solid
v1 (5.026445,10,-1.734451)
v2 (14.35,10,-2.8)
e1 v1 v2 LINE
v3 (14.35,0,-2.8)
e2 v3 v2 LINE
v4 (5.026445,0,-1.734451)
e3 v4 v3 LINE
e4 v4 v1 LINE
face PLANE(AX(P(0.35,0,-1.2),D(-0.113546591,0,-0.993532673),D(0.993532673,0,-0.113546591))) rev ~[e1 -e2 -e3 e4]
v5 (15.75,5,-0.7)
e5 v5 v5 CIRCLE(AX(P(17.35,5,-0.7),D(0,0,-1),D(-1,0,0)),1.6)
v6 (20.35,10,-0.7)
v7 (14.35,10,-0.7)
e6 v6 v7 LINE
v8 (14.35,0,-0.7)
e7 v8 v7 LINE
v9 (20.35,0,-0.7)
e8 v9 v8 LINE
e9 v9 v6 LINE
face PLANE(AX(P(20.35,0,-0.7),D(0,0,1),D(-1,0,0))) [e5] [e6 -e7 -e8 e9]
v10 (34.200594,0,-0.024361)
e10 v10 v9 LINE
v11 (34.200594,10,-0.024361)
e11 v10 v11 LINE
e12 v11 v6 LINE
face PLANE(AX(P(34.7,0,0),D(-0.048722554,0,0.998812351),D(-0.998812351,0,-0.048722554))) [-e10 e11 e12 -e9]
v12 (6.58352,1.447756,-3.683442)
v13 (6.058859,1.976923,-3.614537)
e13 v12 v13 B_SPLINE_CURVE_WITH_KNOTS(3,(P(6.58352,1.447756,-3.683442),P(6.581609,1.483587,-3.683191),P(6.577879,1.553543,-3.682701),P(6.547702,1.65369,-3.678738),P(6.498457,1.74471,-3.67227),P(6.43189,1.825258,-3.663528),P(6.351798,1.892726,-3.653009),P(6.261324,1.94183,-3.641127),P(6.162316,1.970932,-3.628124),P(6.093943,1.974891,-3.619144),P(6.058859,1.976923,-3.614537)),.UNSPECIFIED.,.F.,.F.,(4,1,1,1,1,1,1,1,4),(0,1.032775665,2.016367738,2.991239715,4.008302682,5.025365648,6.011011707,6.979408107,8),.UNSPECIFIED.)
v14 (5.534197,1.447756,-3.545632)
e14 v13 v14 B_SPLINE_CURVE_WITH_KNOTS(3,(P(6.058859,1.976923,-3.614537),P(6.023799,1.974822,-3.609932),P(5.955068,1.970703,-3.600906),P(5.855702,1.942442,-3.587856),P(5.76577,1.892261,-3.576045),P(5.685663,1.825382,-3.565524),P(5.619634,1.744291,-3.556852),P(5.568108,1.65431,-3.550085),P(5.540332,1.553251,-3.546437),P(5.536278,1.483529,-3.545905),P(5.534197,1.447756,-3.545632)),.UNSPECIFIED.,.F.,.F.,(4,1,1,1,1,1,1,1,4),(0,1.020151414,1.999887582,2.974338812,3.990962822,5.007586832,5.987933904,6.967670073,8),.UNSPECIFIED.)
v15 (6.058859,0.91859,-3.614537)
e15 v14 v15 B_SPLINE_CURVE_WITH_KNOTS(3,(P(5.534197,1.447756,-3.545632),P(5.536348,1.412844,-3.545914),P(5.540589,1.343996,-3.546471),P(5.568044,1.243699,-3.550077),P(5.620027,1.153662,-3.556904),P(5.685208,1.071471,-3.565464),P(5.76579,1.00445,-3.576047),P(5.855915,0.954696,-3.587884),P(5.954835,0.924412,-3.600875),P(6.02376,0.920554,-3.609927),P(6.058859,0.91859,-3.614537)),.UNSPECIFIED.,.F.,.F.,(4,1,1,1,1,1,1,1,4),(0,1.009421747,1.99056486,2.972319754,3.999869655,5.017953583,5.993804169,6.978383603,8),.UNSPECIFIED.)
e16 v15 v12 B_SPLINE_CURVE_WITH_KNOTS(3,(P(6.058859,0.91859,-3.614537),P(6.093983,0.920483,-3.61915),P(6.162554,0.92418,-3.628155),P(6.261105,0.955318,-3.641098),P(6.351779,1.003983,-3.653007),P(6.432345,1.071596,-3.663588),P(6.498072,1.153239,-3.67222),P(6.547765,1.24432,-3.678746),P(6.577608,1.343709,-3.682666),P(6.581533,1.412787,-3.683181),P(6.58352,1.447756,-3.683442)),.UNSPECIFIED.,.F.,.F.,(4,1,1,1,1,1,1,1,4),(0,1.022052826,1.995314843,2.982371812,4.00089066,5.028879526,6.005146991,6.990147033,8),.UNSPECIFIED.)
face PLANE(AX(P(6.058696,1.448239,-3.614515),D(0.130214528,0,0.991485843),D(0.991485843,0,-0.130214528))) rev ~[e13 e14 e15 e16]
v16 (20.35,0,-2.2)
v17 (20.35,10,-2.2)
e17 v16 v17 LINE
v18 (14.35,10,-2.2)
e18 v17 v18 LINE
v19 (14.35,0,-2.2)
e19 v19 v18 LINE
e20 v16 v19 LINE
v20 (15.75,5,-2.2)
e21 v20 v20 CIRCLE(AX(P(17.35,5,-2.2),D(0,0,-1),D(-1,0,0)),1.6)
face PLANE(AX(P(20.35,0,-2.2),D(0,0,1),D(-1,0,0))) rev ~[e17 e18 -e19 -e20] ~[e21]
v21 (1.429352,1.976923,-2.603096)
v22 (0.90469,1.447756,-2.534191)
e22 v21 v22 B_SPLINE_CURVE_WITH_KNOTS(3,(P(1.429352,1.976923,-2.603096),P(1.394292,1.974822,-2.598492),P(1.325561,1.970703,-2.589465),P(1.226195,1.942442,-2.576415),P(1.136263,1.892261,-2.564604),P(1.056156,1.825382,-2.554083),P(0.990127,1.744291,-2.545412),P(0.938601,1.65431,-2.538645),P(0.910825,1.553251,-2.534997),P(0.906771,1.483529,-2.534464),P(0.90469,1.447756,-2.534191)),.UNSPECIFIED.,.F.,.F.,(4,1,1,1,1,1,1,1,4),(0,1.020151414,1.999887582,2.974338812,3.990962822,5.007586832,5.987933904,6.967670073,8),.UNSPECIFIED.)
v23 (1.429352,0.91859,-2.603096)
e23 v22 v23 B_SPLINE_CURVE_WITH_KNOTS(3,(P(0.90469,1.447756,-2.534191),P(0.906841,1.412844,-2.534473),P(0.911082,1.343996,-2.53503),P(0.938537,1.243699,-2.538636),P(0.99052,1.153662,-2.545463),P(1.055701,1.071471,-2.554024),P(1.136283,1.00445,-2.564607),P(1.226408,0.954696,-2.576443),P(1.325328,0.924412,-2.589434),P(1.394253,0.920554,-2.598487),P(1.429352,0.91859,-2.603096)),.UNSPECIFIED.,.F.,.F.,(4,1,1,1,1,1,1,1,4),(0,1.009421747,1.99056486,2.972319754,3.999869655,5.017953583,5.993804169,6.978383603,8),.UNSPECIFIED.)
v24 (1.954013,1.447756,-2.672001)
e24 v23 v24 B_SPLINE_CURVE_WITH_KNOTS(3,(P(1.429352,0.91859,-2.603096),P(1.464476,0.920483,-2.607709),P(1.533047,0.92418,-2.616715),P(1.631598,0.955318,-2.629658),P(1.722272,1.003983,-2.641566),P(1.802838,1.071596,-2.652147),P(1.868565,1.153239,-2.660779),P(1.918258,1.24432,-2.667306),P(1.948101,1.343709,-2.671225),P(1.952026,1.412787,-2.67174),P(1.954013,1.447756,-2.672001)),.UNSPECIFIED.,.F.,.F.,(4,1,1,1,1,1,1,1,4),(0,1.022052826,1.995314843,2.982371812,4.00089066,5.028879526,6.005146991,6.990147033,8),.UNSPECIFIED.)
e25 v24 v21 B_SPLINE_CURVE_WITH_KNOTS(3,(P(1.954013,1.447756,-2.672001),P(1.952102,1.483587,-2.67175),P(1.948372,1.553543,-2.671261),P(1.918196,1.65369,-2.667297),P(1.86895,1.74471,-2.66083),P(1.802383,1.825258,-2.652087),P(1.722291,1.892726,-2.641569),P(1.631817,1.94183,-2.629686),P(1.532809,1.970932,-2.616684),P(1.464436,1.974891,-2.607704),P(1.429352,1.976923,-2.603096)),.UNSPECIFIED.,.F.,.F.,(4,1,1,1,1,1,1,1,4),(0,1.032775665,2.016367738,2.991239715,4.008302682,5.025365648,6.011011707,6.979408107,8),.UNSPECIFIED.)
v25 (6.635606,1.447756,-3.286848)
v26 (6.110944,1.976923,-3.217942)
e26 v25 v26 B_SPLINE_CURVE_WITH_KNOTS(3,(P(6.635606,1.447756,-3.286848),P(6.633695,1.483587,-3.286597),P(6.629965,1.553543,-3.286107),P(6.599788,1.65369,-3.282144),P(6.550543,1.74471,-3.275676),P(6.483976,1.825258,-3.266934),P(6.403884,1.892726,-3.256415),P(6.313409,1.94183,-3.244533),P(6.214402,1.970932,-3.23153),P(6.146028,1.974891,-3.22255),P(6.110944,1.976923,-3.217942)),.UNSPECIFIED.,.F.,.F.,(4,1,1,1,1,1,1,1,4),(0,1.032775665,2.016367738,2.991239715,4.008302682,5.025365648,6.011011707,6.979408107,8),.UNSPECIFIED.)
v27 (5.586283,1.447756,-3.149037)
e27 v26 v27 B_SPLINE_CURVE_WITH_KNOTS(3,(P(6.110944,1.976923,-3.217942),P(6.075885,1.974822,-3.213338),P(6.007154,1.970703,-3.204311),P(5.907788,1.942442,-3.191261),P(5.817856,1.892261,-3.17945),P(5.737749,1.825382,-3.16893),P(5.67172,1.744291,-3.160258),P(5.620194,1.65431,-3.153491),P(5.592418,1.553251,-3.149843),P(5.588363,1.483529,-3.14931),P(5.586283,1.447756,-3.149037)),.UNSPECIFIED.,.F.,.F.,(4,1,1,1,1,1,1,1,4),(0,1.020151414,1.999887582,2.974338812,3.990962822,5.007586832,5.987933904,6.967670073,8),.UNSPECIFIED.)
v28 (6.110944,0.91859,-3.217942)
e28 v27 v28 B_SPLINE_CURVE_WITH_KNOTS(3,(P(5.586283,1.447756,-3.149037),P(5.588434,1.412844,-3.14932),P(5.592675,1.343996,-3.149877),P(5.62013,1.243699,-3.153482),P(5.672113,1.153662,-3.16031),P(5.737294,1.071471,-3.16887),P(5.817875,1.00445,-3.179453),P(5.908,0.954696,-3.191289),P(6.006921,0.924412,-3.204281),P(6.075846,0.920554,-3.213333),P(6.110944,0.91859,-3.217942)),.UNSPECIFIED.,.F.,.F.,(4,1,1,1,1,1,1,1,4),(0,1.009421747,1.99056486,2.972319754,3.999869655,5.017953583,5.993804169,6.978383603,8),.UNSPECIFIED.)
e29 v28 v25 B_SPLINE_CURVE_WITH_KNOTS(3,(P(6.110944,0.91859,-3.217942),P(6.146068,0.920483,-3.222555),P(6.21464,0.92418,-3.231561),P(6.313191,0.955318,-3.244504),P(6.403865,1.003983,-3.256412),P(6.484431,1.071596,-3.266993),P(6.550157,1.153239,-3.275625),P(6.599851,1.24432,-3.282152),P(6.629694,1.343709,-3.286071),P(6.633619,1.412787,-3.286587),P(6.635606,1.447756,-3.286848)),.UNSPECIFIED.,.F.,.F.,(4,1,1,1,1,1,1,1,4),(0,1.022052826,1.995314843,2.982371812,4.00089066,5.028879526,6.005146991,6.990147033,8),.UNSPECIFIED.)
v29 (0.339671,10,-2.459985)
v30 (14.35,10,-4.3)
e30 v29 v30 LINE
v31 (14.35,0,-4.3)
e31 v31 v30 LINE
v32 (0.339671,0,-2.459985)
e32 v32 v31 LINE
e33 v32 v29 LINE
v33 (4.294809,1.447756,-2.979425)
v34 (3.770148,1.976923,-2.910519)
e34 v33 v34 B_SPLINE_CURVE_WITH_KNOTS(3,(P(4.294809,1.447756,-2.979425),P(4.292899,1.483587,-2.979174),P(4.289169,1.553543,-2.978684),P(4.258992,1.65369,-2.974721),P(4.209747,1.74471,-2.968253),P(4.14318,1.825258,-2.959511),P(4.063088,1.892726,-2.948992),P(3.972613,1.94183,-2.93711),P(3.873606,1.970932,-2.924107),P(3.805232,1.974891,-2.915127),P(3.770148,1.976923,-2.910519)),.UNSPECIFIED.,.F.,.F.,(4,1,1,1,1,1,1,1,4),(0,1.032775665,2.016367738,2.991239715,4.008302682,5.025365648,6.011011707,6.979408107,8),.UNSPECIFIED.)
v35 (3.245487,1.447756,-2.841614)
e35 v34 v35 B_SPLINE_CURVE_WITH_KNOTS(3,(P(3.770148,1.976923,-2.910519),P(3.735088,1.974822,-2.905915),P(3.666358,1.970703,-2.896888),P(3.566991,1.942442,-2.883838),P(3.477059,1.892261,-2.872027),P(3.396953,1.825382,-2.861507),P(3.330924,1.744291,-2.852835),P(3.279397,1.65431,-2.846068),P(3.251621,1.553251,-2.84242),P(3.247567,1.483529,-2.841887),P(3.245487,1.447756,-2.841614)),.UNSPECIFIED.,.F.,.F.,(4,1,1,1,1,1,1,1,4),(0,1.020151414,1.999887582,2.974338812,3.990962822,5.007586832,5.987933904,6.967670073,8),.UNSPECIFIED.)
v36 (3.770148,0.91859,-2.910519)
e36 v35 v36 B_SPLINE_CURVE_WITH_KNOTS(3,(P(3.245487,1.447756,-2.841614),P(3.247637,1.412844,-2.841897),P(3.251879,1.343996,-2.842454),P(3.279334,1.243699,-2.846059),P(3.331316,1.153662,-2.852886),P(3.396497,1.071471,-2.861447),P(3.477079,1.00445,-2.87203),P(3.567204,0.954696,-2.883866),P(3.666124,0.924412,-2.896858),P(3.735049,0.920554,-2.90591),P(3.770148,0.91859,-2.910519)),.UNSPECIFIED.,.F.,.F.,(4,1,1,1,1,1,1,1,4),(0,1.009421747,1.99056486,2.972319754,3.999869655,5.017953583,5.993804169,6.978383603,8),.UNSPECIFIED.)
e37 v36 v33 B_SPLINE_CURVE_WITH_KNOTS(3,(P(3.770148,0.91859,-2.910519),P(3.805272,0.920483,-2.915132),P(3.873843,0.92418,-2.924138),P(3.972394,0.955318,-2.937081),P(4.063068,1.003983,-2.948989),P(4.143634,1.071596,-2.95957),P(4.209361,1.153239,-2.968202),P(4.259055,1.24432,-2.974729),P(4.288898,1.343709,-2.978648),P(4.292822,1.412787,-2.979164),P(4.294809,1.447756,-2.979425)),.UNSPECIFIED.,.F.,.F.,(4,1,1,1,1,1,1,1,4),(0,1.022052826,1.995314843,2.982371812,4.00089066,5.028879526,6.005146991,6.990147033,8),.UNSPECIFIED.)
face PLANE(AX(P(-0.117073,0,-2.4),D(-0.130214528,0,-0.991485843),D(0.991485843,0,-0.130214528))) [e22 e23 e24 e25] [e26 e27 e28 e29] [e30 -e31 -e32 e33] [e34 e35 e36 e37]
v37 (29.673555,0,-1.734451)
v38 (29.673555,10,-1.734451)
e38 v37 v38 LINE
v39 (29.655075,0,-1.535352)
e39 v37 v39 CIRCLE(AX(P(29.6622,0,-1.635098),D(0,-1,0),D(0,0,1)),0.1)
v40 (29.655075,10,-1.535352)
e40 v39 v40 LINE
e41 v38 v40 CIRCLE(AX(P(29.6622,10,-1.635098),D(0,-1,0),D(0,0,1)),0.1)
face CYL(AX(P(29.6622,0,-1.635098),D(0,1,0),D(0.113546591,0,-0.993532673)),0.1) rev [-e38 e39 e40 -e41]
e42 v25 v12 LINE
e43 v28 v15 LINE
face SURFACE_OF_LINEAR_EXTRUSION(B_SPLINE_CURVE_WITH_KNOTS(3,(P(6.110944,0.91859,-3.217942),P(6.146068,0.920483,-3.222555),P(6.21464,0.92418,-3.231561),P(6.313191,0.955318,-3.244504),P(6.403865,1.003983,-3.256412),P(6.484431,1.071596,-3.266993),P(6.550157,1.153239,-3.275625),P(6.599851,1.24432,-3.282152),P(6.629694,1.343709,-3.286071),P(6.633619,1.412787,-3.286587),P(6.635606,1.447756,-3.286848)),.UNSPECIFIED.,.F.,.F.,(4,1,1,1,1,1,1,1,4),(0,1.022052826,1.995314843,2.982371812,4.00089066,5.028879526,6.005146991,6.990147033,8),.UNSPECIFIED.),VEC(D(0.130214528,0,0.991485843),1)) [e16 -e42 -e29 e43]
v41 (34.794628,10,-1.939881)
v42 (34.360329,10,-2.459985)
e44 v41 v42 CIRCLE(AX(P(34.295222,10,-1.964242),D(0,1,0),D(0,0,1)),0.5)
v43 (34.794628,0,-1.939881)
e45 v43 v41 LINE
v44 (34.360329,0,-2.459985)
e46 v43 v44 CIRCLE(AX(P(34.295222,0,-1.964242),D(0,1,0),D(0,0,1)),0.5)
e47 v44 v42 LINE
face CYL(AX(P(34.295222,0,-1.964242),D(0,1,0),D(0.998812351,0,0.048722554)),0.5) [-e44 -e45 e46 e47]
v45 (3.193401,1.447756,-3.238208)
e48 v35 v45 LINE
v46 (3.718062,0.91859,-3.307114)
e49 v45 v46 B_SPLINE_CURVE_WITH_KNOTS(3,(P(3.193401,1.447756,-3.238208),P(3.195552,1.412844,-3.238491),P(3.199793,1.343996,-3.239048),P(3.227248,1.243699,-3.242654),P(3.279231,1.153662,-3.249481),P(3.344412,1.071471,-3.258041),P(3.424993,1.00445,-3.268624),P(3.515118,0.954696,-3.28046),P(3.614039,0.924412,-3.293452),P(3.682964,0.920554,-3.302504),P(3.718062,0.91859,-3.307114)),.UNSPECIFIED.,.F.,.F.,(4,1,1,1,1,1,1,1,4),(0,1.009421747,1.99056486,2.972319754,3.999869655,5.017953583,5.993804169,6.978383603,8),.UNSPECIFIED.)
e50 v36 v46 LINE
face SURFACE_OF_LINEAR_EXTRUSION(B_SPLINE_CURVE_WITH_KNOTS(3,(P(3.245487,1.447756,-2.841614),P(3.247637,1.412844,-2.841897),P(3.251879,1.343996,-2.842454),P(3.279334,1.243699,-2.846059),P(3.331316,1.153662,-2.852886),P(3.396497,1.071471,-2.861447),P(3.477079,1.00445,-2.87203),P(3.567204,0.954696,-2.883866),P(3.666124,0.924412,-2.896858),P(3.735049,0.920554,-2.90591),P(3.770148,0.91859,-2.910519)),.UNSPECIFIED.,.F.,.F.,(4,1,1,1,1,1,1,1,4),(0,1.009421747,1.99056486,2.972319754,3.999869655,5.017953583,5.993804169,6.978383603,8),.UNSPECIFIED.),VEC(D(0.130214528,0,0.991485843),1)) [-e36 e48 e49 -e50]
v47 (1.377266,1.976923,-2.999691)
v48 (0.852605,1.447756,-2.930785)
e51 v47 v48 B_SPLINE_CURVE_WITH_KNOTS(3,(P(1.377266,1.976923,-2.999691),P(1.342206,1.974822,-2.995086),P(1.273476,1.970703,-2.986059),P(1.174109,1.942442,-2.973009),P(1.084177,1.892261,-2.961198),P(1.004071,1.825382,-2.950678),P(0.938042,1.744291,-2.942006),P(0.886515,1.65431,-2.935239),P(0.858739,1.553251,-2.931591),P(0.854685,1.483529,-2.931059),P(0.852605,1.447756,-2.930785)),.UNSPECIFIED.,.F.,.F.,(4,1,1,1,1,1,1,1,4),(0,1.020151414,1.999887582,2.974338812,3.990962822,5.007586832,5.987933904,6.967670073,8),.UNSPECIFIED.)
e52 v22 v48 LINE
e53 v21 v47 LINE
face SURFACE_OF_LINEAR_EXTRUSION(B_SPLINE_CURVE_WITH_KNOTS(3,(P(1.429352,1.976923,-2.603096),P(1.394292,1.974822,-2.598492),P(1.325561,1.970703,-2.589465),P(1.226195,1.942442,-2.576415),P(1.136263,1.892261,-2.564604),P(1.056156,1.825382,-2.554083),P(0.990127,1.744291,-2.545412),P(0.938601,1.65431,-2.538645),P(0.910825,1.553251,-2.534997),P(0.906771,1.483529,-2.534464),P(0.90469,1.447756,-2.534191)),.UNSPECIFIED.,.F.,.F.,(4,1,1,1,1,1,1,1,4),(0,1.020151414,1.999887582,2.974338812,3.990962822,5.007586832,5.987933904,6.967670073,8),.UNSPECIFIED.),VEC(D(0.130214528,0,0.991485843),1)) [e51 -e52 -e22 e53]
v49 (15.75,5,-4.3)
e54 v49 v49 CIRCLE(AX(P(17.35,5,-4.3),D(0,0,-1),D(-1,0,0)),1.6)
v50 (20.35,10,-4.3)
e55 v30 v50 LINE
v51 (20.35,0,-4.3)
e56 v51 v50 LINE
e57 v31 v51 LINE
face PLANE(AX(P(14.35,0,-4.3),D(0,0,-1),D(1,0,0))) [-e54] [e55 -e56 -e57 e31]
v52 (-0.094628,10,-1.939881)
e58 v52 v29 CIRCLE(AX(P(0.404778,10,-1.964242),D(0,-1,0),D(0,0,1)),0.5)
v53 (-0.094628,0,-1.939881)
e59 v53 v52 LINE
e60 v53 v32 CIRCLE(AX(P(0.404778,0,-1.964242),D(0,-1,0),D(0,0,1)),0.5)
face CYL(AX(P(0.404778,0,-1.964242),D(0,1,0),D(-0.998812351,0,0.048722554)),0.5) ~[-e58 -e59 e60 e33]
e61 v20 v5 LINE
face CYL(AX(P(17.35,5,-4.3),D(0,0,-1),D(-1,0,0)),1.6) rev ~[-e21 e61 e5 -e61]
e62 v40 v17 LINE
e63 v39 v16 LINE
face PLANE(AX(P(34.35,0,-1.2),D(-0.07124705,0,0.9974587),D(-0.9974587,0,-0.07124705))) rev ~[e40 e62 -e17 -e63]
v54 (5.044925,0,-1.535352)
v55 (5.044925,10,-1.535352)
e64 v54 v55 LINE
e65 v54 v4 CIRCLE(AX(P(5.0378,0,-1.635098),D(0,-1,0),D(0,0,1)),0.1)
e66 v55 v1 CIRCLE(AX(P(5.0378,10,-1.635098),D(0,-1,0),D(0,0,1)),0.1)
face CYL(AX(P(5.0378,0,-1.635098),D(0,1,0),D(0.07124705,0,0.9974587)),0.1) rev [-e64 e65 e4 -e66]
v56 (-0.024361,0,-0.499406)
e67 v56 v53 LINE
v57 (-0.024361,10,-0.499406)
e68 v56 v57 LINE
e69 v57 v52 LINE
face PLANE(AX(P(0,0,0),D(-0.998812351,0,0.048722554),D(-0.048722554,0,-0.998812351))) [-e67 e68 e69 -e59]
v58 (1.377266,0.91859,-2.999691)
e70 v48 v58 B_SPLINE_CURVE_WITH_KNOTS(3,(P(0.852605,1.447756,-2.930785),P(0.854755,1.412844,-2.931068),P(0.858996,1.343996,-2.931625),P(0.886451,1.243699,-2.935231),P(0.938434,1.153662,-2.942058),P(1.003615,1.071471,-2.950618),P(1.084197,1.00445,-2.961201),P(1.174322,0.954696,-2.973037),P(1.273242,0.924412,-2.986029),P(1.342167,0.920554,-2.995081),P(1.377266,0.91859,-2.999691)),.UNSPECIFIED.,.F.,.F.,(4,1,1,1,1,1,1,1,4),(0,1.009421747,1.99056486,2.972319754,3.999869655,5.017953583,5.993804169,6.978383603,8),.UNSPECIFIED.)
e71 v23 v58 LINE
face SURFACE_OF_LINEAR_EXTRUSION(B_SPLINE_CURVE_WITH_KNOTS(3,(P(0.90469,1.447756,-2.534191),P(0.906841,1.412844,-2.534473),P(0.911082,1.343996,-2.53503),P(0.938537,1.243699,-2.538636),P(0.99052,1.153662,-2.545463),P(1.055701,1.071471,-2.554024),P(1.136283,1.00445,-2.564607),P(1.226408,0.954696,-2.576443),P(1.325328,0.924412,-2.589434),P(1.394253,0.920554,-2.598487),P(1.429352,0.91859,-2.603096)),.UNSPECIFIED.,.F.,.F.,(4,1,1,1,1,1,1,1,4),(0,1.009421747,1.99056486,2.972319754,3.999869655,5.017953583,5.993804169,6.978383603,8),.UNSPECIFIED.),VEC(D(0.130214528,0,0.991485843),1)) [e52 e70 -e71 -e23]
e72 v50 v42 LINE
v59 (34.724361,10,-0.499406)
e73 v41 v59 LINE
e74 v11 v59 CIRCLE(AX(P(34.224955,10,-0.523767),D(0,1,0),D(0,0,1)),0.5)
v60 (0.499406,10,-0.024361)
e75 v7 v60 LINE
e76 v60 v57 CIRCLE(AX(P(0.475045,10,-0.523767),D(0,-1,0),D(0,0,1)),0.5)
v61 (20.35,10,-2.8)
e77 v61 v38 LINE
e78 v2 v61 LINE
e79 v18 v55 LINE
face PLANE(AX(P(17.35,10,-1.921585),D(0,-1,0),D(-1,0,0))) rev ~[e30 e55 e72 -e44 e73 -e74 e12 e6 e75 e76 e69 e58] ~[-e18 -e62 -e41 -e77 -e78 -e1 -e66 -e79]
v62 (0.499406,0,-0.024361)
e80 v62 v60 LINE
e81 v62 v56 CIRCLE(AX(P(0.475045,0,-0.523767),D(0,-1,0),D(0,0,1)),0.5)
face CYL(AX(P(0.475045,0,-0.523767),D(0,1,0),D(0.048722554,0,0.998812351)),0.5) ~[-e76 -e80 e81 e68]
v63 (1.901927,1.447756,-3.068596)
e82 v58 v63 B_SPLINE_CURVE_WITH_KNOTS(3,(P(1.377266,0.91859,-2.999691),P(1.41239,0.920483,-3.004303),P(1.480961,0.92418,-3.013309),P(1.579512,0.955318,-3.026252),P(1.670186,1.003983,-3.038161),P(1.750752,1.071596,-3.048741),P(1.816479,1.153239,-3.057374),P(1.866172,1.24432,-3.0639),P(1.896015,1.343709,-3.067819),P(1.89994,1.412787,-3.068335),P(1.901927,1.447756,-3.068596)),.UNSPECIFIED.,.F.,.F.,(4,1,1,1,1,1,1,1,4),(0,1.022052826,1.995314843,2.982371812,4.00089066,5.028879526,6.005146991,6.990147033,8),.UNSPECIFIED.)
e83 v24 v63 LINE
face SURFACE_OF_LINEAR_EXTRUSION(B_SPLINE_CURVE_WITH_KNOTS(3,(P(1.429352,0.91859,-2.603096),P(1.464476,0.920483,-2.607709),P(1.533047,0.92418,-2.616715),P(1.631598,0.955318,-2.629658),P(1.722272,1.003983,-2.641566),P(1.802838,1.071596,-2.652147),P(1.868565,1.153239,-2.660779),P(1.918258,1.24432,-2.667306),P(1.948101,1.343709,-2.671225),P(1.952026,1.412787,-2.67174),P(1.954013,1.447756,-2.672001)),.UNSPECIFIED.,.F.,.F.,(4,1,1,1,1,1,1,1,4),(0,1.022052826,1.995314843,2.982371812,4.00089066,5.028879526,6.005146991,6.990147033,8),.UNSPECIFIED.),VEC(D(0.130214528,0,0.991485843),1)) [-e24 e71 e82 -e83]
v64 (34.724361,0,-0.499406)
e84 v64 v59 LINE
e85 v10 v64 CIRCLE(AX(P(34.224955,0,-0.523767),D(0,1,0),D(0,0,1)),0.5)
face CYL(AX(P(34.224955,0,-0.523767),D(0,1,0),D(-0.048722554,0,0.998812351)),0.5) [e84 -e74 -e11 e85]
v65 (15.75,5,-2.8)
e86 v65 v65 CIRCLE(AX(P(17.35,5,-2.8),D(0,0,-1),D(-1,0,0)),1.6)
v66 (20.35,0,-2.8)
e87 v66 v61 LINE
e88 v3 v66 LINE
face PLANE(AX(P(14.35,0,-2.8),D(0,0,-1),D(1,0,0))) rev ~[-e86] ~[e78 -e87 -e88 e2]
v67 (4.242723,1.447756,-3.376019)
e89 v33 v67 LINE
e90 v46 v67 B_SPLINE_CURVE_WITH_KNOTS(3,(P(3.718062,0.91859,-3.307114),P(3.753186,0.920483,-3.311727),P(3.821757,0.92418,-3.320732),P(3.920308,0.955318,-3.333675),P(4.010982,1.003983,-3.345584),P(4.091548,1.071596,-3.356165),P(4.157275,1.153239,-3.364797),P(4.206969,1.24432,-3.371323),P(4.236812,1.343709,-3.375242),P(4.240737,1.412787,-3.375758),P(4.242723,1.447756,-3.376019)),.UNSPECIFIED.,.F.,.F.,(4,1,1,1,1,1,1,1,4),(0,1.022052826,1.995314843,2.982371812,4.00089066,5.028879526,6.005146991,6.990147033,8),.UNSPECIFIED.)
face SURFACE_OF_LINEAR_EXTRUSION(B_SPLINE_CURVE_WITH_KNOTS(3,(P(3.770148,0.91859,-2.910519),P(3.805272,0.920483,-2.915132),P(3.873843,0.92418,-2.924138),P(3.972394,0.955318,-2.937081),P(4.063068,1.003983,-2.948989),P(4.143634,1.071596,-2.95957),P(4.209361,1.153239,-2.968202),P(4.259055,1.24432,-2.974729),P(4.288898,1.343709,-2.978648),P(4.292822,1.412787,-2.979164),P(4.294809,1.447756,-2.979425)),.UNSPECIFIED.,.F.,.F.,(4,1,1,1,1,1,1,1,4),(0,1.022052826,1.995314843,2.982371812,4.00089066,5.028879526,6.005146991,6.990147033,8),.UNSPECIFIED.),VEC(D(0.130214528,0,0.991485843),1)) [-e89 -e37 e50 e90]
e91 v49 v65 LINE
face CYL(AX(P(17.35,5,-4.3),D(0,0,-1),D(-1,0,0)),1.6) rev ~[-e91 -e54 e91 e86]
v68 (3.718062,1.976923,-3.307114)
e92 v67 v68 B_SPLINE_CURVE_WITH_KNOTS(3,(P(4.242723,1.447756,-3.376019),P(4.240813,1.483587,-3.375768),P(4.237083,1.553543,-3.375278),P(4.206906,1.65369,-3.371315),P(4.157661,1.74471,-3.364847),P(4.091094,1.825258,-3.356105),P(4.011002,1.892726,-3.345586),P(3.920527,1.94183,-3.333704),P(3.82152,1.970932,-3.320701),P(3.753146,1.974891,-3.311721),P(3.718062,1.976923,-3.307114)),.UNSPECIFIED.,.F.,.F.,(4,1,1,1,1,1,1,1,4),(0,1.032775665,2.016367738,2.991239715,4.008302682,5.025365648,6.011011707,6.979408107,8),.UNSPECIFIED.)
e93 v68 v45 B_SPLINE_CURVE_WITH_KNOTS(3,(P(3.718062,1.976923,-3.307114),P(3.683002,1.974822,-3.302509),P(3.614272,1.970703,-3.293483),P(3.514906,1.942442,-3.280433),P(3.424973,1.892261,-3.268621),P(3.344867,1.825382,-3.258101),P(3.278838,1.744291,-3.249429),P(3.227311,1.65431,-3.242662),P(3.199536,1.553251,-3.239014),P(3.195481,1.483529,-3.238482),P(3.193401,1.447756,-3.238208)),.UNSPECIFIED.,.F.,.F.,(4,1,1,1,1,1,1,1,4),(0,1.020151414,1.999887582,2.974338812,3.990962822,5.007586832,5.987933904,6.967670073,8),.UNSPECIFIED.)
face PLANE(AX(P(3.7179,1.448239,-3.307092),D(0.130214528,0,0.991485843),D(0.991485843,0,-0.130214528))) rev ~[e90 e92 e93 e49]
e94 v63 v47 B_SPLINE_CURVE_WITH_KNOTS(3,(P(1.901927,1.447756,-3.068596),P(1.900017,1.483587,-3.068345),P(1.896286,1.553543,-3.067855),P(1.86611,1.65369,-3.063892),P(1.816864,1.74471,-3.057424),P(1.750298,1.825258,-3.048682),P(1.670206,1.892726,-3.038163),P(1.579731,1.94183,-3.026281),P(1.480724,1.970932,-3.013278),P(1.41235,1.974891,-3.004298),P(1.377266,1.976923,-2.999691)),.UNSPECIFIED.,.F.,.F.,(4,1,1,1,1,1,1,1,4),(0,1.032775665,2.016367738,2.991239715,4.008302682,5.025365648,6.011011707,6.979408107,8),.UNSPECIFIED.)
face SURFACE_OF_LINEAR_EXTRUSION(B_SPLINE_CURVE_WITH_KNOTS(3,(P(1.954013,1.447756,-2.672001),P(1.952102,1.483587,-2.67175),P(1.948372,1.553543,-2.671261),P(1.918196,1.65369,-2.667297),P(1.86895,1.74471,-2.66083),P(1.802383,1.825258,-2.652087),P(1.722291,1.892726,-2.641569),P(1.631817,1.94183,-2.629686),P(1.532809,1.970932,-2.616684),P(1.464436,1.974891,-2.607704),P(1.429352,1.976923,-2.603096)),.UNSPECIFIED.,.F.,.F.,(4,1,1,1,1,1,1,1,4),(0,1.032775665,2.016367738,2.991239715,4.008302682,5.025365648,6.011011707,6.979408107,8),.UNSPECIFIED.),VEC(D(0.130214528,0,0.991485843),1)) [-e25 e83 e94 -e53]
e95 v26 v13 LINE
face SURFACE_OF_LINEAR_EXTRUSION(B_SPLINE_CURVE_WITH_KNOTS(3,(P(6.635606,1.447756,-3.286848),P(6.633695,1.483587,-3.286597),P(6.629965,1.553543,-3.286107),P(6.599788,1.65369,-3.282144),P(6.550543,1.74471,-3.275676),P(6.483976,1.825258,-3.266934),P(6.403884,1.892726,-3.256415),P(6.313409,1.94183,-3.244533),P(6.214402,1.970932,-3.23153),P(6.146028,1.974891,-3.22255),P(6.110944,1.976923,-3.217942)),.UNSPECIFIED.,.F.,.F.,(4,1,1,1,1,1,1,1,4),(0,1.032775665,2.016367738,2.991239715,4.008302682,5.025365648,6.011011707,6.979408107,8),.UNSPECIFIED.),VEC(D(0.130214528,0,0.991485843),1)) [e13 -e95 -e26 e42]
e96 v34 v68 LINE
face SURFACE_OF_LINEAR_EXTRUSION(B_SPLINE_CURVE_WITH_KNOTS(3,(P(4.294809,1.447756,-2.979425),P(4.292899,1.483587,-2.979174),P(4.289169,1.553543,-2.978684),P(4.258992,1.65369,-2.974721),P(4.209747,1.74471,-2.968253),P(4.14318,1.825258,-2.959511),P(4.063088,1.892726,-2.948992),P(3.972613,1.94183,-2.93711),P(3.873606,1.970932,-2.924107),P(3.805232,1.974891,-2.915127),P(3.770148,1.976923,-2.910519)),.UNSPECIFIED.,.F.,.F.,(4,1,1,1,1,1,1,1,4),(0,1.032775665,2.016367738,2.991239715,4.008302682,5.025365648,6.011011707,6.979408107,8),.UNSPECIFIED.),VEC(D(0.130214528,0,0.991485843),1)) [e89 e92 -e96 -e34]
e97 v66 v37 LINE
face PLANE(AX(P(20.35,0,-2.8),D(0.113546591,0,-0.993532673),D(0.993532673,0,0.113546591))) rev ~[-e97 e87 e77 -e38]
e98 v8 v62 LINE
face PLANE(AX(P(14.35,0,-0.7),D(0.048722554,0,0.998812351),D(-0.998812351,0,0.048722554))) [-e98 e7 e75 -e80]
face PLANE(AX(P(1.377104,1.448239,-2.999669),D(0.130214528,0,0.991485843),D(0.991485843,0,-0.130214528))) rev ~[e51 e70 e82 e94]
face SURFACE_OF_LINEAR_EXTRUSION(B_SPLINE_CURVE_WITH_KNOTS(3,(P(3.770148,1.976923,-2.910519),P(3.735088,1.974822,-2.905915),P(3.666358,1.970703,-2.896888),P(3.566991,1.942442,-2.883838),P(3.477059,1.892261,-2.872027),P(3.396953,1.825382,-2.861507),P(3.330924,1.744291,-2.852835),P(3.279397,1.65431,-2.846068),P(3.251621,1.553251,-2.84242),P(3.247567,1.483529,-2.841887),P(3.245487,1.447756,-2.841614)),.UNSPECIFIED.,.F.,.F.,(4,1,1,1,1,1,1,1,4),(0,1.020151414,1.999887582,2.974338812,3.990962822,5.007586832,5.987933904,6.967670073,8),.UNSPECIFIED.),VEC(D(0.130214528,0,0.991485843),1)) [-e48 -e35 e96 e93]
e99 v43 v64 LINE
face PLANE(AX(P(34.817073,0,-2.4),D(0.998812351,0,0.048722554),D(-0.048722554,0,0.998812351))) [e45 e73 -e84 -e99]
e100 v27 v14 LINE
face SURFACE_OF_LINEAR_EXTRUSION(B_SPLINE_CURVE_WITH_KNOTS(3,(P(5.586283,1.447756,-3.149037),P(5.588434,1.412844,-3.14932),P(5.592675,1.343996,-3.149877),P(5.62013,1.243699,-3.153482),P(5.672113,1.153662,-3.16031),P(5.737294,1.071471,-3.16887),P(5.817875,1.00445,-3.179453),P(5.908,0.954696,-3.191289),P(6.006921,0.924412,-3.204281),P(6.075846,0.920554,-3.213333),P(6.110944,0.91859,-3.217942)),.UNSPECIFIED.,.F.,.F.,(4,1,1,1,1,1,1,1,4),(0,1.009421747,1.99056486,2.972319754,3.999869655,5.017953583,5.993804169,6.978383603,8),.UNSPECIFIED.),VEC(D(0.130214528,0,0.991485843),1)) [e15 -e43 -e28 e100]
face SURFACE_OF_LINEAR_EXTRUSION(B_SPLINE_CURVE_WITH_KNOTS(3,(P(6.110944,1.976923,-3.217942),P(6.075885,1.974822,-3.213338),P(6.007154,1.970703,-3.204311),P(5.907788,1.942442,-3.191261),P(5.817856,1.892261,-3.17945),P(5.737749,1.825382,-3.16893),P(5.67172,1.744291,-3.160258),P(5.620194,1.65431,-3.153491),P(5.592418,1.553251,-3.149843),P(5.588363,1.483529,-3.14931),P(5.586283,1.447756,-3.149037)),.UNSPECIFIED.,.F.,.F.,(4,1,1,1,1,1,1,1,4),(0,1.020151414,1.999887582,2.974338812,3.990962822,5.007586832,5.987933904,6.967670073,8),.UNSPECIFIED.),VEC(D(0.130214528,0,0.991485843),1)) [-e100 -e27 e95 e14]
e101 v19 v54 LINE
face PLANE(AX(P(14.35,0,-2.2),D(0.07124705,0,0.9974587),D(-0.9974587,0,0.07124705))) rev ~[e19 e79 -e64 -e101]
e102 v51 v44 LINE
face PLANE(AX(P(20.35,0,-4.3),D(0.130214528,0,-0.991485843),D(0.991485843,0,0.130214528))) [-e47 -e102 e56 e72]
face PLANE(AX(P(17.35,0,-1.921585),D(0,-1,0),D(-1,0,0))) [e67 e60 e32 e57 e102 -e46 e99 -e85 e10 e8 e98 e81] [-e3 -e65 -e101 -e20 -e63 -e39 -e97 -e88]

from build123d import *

# Parameters (mm, degrees)
BOSS_EXTRUDE1_DEPTH       = 10
FILLET1_R                 = 0.1
FILLET2_R                 = 0.5
SKETCH2_R                 = 1.6
CUT_EXTRUDE1_DEPTH        = 37.455365189
REVISION_INDICATION_DEPTH = 0.4


with BuildPart() as part:
    # Sketch1 → Boss-Extrude1 (new body)
    with BuildSketch(Plane(origin=(0, 0, 0), x_dir=(1, 0, 0), z_dir=(0, 1, 0))):
        Polygon((20.35, 0.7), (14.35, 0.7), (0, 0), (-0.117073171, 2.4), (14.35, 4.3), (20.35, 4.3), (34.817073171, 2.4), (34.7, 0), align=None)
        Polygon((20.35, 2.2), (14.35, 2.2), (0.35, 1.2), (14.35, 2.8), (20.35, 2.8), (34.35, 1.2), align=None, mode=Mode.SUBTRACT)
    extrude(amount=BOSS_EXTRUDE1_DEPTH)

    # Fillet1
    fillet1_edges = [part.edges().sort_by_distance(p)[0] for p in [
        (0.35, 5, -1.2),
        (34.35, 5, -1.2),
    ]]
    fillet(fillet1_edges, radius=FILLET1_R)

    # Fillet2
    fillet2_edges = [part.edges().sort_by_distance(p)[0] for p in [
        (-0.117073171, 5, -2.4),
        (34.817073171, 5, -2.4),
        (34.7, 5, 0),
        (0, 5, 0),
    ]]
    fillet(fillet2_edges, radius=FILLET2_R)

    # Sketch2 → Cut-Extrude1 (cut, through all)
    with BuildSketch(Plane(origin=(0, 0, -4.3), x_dir=(-1, 0, 0), z_dir=(0, 0, -1))):
        with Locations((-17.35, 5)):
            Circle(SKETCH2_R)
    extrude(amount=-CUT_EXTRUDE1_DEPTH, mode=Mode.SUBTRACT)

    # Sketch5 → revision indication (add)
    with BuildSketch(Plane(origin=(-0.311839138, 0, -2.374420857), x_dir=(-0.9914858429395939, 0, 0.13021452780071538), z_dir=(-0.13021452780071538, 0, -0.9914858429395939))):
        with BuildLine():
            add(Edge.make_bspline(
                [(-1.75614285, 1.976923077), (-1.720782037, 1.974821832), (-1.651461296, 1.970702586), (-1.551241734, 1.942442049), (-1.460537137, 1.892261337), (-1.379742922, 1.825381725), (-1.313146886, 1.744291021), (-1.261177847, 1.654309873), (-1.233163488, 1.553251269), (-1.229074248, 1.483528859), (-1.226976184, 1.44775641)],
                knots=[0, 0, 0, 0, 1.020151414, 1.999887582, 2.974338812, 3.990962822, 5.007586832, 5.987933904, 6.967670073, 8, 8, 8, 8], degree=3))
            add(Edge.make_bspline(
                [(-1.226976184, 1.44775641), (-1.229145345, 1.412843512), (-1.233422899, 1.343995789), (-1.261113631, 1.243699421), (-1.313542951, 1.153662038), (-1.379283581, 1.071471016), (-1.46055711, 1.004449722), (-1.551456175, 0.954695939), (-1.651226029, 0.924411918), (-1.720742787, 0.920554208), (-1.75614285, 0.918589744)],
                knots=[0, 0, 0, 0, 1.009421747, 1.99056486, 2.972319754, 3.999869655, 5.017953583, 5.993804169, 6.978383603, 8, 8, 8, 8], degree=3))
            add(Edge.make_bspline(
                [(-1.75614285, 0.918589744), (-1.791568422, 0.920483127), (-1.860728417, 0.924179507), (-1.960125864, 0.955317742), (-2.051578507, 1.003983162), (-2.132836213, 1.071595984), (-2.19912744, 1.153239101), (-2.249247777, 1.244319503), (-2.279347047, 1.343708683), (-2.283305588, 1.412786963), (-2.285309517, 1.44775641)],
                knots=[0, 0, 0, 0, 1.022052826, 1.995314843, 2.982371812, 4.00089066, 5.028879526, 6.005146991, 6.990147033, 8, 8, 8, 8], degree=3))
            add(Edge.make_bspline(
                [(-2.285309517, 1.44775641), (-2.283382565, 1.483587428), (-2.279620429, 1.553543092), (-2.249184588, 1.653690044), (-2.199516318, 1.744709926), (-2.132377959, 1.825258007), (-2.051598165, 1.892726399), (-1.960346478, 1.941829667), (-1.860489026, 1.970931558), (-1.791528138, 1.974891267), (-1.75614285, 1.976923077)],
                knots=[0, 0, 0, 0, 1.032775665, 2.016367738, 2.991239715, 4.008302682, 5.025365648, 6.011011707, 6.979408107, 8, 8, 8, 8], degree=3))
        make_face()
        with BuildLine():
            add(Edge.make_bspline(
                [(-4.117040286, 1.976923077), (-4.081679473, 1.974821832), (-4.012358732, 1.970702586), (-3.91213917, 1.942442049), (-3.821434573, 1.892261337), (-3.740640358, 1.825381725), (-3.674044322, 1.744291021), (-3.622075283, 1.654309873), (-3.594060924, 1.553251269), (-3.589971684, 1.483528859), (-3.587873619, 1.44775641)],
                knots=[0, 0, 0, 0, 1.020151414, 1.999887582, 2.974338812, 3.990962822, 5.007586832, 5.987933904, 6.967670073, 8, 8, 8, 8], degree=3))
            add(Edge.make_bspline(
                [(-3.587873619, 1.44775641), (-3.590042781, 1.412843512), (-3.594320335, 1.343995789), (-3.622011067, 1.243699421), (-3.674440387, 1.153662038), (-3.740181017, 1.071471016), (-3.821454546, 1.004449722), (-3.91235361, 0.954695939), (-4.012123464, 0.924411918), (-4.081640223, 0.920554208), (-4.117040286, 0.918589744)],
                knots=[0, 0, 0, 0, 1.009421747, 1.99056486, 2.972319754, 3.999869655, 5.017953583, 5.993804169, 6.978383603, 8, 8, 8, 8], degree=3))
            add(Edge.make_bspline(
                [(-4.117040286, 0.918589744), (-4.152465858, 0.920483127), (-4.221625853, 0.924179507), (-4.3210233, 0.955317742), (-4.412475943, 1.003983162), (-4.493733649, 1.071595984), (-4.560024876, 1.153239101), (-4.610145213, 1.244319503), (-4.640244483, 1.343708683), (-4.644203024, 1.412786963), (-4.646206953, 1.44775641)],
                knots=[0, 0, 0, 0, 1.022052826, 1.995314843, 2.982371812, 4.00089066, 5.028879526, 6.005146991, 6.990147033, 8, 8, 8, 8], degree=3))
            add(Edge.make_bspline(
                [(-4.646206953, 1.44775641), (-4.644280001, 1.483587428), (-4.640517865, 1.553543092), (-4.610082024, 1.653690044), (-4.560413754, 1.744709926), (-4.493275395, 1.825258007), (-4.412495601, 1.892726399), (-4.321243914, 1.941829667), (-4.221386462, 1.970931558), (-4.152425574, 1.974891267), (-4.117040286, 1.976923077)],
                knots=[0, 0, 0, 0, 1.032775665, 2.016367738, 2.991239715, 4.008302682, 5.025365648, 6.011011707, 6.979408107, 8, 8, 8, 8], degree=3))
        make_face()
        with BuildLine():
            add(Edge.make_bspline(
                [(-6.477937722, 1.976923077), (-6.442576908, 1.974821832), (-6.373256168, 1.970702586), (-6.273036606, 1.942442049), (-6.182332009, 1.892261337), (-6.101537794, 1.825381725), (-6.034941758, 1.744291021), (-5.982972719, 1.654309873), (-5.95495836, 1.553251269), (-5.95086912, 1.483528859), (-5.948771055, 1.44775641)],
                knots=[0, 0, 0, 0, 1.020151414, 1.999887582, 2.974338812, 3.990962822, 5.007586832, 5.987933904, 6.967670073, 8, 8, 8, 8], degree=3))
            add(Edge.make_bspline(
                [(-5.948771055, 1.44775641), (-5.950940217, 1.412843512), (-5.955217771, 1.343995789), (-5.982908503, 1.243699421), (-6.035337823, 1.153662038), (-6.101078453, 1.071471016), (-6.182351982, 1.004449722), (-6.273251046, 0.954695939), (-6.3730209, 0.924411918), (-6.442537658, 0.920554208), (-6.477937722, 0.918589744)],
                knots=[0, 0, 0, 0, 1.009421747, 1.99056486, 2.972319754, 3.999869655, 5.017953583, 5.993804169, 6.978383603, 8, 8, 8, 8], degree=3))
            add(Edge.make_bspline(
                [(-6.477937722, 0.918589744), (-6.513363294, 0.920483127), (-6.582523289, 0.924179507), (-6.681920736, 0.955317742), (-6.773373379, 1.003983162), (-6.854631085, 1.071595984), (-6.920922312, 1.153239101), (-6.971042649, 1.244319503), (-7.001141919, 1.343708683), (-7.00510046, 1.412786963), (-7.007104389, 1.44775641)],
                knots=[0, 0, 0, 0, 1.022052826, 1.995314843, 2.982371812, 4.00089066, 5.028879526, 6.005146991, 6.990147033, 8, 8, 8, 8], degree=3))
            add(Edge.make_bspline(
                [(-7.007104389, 1.44775641), (-7.005177437, 1.483587428), (-7.001415301, 1.553543092), (-6.97097946, 1.653690044), (-6.92131119, 1.744709926), (-6.85417283, 1.825258007), (-6.773393036, 1.892726399), (-6.68214135, 1.941829667), (-6.582283898, 1.970931558), (-6.51332301, 1.974891267), (-6.477937722, 1.976923077)],
                knots=[0, 0, 0, 0, 1.032775665, 2.016367738, 2.991239715, 4.008302682, 5.025365648, 6.011011707, 6.979408107, 8, 8, 8, 8], degree=3))
        make_face()
    extrude(amount=REVISION_INDICATION_DEPTH)


solid = part.part
